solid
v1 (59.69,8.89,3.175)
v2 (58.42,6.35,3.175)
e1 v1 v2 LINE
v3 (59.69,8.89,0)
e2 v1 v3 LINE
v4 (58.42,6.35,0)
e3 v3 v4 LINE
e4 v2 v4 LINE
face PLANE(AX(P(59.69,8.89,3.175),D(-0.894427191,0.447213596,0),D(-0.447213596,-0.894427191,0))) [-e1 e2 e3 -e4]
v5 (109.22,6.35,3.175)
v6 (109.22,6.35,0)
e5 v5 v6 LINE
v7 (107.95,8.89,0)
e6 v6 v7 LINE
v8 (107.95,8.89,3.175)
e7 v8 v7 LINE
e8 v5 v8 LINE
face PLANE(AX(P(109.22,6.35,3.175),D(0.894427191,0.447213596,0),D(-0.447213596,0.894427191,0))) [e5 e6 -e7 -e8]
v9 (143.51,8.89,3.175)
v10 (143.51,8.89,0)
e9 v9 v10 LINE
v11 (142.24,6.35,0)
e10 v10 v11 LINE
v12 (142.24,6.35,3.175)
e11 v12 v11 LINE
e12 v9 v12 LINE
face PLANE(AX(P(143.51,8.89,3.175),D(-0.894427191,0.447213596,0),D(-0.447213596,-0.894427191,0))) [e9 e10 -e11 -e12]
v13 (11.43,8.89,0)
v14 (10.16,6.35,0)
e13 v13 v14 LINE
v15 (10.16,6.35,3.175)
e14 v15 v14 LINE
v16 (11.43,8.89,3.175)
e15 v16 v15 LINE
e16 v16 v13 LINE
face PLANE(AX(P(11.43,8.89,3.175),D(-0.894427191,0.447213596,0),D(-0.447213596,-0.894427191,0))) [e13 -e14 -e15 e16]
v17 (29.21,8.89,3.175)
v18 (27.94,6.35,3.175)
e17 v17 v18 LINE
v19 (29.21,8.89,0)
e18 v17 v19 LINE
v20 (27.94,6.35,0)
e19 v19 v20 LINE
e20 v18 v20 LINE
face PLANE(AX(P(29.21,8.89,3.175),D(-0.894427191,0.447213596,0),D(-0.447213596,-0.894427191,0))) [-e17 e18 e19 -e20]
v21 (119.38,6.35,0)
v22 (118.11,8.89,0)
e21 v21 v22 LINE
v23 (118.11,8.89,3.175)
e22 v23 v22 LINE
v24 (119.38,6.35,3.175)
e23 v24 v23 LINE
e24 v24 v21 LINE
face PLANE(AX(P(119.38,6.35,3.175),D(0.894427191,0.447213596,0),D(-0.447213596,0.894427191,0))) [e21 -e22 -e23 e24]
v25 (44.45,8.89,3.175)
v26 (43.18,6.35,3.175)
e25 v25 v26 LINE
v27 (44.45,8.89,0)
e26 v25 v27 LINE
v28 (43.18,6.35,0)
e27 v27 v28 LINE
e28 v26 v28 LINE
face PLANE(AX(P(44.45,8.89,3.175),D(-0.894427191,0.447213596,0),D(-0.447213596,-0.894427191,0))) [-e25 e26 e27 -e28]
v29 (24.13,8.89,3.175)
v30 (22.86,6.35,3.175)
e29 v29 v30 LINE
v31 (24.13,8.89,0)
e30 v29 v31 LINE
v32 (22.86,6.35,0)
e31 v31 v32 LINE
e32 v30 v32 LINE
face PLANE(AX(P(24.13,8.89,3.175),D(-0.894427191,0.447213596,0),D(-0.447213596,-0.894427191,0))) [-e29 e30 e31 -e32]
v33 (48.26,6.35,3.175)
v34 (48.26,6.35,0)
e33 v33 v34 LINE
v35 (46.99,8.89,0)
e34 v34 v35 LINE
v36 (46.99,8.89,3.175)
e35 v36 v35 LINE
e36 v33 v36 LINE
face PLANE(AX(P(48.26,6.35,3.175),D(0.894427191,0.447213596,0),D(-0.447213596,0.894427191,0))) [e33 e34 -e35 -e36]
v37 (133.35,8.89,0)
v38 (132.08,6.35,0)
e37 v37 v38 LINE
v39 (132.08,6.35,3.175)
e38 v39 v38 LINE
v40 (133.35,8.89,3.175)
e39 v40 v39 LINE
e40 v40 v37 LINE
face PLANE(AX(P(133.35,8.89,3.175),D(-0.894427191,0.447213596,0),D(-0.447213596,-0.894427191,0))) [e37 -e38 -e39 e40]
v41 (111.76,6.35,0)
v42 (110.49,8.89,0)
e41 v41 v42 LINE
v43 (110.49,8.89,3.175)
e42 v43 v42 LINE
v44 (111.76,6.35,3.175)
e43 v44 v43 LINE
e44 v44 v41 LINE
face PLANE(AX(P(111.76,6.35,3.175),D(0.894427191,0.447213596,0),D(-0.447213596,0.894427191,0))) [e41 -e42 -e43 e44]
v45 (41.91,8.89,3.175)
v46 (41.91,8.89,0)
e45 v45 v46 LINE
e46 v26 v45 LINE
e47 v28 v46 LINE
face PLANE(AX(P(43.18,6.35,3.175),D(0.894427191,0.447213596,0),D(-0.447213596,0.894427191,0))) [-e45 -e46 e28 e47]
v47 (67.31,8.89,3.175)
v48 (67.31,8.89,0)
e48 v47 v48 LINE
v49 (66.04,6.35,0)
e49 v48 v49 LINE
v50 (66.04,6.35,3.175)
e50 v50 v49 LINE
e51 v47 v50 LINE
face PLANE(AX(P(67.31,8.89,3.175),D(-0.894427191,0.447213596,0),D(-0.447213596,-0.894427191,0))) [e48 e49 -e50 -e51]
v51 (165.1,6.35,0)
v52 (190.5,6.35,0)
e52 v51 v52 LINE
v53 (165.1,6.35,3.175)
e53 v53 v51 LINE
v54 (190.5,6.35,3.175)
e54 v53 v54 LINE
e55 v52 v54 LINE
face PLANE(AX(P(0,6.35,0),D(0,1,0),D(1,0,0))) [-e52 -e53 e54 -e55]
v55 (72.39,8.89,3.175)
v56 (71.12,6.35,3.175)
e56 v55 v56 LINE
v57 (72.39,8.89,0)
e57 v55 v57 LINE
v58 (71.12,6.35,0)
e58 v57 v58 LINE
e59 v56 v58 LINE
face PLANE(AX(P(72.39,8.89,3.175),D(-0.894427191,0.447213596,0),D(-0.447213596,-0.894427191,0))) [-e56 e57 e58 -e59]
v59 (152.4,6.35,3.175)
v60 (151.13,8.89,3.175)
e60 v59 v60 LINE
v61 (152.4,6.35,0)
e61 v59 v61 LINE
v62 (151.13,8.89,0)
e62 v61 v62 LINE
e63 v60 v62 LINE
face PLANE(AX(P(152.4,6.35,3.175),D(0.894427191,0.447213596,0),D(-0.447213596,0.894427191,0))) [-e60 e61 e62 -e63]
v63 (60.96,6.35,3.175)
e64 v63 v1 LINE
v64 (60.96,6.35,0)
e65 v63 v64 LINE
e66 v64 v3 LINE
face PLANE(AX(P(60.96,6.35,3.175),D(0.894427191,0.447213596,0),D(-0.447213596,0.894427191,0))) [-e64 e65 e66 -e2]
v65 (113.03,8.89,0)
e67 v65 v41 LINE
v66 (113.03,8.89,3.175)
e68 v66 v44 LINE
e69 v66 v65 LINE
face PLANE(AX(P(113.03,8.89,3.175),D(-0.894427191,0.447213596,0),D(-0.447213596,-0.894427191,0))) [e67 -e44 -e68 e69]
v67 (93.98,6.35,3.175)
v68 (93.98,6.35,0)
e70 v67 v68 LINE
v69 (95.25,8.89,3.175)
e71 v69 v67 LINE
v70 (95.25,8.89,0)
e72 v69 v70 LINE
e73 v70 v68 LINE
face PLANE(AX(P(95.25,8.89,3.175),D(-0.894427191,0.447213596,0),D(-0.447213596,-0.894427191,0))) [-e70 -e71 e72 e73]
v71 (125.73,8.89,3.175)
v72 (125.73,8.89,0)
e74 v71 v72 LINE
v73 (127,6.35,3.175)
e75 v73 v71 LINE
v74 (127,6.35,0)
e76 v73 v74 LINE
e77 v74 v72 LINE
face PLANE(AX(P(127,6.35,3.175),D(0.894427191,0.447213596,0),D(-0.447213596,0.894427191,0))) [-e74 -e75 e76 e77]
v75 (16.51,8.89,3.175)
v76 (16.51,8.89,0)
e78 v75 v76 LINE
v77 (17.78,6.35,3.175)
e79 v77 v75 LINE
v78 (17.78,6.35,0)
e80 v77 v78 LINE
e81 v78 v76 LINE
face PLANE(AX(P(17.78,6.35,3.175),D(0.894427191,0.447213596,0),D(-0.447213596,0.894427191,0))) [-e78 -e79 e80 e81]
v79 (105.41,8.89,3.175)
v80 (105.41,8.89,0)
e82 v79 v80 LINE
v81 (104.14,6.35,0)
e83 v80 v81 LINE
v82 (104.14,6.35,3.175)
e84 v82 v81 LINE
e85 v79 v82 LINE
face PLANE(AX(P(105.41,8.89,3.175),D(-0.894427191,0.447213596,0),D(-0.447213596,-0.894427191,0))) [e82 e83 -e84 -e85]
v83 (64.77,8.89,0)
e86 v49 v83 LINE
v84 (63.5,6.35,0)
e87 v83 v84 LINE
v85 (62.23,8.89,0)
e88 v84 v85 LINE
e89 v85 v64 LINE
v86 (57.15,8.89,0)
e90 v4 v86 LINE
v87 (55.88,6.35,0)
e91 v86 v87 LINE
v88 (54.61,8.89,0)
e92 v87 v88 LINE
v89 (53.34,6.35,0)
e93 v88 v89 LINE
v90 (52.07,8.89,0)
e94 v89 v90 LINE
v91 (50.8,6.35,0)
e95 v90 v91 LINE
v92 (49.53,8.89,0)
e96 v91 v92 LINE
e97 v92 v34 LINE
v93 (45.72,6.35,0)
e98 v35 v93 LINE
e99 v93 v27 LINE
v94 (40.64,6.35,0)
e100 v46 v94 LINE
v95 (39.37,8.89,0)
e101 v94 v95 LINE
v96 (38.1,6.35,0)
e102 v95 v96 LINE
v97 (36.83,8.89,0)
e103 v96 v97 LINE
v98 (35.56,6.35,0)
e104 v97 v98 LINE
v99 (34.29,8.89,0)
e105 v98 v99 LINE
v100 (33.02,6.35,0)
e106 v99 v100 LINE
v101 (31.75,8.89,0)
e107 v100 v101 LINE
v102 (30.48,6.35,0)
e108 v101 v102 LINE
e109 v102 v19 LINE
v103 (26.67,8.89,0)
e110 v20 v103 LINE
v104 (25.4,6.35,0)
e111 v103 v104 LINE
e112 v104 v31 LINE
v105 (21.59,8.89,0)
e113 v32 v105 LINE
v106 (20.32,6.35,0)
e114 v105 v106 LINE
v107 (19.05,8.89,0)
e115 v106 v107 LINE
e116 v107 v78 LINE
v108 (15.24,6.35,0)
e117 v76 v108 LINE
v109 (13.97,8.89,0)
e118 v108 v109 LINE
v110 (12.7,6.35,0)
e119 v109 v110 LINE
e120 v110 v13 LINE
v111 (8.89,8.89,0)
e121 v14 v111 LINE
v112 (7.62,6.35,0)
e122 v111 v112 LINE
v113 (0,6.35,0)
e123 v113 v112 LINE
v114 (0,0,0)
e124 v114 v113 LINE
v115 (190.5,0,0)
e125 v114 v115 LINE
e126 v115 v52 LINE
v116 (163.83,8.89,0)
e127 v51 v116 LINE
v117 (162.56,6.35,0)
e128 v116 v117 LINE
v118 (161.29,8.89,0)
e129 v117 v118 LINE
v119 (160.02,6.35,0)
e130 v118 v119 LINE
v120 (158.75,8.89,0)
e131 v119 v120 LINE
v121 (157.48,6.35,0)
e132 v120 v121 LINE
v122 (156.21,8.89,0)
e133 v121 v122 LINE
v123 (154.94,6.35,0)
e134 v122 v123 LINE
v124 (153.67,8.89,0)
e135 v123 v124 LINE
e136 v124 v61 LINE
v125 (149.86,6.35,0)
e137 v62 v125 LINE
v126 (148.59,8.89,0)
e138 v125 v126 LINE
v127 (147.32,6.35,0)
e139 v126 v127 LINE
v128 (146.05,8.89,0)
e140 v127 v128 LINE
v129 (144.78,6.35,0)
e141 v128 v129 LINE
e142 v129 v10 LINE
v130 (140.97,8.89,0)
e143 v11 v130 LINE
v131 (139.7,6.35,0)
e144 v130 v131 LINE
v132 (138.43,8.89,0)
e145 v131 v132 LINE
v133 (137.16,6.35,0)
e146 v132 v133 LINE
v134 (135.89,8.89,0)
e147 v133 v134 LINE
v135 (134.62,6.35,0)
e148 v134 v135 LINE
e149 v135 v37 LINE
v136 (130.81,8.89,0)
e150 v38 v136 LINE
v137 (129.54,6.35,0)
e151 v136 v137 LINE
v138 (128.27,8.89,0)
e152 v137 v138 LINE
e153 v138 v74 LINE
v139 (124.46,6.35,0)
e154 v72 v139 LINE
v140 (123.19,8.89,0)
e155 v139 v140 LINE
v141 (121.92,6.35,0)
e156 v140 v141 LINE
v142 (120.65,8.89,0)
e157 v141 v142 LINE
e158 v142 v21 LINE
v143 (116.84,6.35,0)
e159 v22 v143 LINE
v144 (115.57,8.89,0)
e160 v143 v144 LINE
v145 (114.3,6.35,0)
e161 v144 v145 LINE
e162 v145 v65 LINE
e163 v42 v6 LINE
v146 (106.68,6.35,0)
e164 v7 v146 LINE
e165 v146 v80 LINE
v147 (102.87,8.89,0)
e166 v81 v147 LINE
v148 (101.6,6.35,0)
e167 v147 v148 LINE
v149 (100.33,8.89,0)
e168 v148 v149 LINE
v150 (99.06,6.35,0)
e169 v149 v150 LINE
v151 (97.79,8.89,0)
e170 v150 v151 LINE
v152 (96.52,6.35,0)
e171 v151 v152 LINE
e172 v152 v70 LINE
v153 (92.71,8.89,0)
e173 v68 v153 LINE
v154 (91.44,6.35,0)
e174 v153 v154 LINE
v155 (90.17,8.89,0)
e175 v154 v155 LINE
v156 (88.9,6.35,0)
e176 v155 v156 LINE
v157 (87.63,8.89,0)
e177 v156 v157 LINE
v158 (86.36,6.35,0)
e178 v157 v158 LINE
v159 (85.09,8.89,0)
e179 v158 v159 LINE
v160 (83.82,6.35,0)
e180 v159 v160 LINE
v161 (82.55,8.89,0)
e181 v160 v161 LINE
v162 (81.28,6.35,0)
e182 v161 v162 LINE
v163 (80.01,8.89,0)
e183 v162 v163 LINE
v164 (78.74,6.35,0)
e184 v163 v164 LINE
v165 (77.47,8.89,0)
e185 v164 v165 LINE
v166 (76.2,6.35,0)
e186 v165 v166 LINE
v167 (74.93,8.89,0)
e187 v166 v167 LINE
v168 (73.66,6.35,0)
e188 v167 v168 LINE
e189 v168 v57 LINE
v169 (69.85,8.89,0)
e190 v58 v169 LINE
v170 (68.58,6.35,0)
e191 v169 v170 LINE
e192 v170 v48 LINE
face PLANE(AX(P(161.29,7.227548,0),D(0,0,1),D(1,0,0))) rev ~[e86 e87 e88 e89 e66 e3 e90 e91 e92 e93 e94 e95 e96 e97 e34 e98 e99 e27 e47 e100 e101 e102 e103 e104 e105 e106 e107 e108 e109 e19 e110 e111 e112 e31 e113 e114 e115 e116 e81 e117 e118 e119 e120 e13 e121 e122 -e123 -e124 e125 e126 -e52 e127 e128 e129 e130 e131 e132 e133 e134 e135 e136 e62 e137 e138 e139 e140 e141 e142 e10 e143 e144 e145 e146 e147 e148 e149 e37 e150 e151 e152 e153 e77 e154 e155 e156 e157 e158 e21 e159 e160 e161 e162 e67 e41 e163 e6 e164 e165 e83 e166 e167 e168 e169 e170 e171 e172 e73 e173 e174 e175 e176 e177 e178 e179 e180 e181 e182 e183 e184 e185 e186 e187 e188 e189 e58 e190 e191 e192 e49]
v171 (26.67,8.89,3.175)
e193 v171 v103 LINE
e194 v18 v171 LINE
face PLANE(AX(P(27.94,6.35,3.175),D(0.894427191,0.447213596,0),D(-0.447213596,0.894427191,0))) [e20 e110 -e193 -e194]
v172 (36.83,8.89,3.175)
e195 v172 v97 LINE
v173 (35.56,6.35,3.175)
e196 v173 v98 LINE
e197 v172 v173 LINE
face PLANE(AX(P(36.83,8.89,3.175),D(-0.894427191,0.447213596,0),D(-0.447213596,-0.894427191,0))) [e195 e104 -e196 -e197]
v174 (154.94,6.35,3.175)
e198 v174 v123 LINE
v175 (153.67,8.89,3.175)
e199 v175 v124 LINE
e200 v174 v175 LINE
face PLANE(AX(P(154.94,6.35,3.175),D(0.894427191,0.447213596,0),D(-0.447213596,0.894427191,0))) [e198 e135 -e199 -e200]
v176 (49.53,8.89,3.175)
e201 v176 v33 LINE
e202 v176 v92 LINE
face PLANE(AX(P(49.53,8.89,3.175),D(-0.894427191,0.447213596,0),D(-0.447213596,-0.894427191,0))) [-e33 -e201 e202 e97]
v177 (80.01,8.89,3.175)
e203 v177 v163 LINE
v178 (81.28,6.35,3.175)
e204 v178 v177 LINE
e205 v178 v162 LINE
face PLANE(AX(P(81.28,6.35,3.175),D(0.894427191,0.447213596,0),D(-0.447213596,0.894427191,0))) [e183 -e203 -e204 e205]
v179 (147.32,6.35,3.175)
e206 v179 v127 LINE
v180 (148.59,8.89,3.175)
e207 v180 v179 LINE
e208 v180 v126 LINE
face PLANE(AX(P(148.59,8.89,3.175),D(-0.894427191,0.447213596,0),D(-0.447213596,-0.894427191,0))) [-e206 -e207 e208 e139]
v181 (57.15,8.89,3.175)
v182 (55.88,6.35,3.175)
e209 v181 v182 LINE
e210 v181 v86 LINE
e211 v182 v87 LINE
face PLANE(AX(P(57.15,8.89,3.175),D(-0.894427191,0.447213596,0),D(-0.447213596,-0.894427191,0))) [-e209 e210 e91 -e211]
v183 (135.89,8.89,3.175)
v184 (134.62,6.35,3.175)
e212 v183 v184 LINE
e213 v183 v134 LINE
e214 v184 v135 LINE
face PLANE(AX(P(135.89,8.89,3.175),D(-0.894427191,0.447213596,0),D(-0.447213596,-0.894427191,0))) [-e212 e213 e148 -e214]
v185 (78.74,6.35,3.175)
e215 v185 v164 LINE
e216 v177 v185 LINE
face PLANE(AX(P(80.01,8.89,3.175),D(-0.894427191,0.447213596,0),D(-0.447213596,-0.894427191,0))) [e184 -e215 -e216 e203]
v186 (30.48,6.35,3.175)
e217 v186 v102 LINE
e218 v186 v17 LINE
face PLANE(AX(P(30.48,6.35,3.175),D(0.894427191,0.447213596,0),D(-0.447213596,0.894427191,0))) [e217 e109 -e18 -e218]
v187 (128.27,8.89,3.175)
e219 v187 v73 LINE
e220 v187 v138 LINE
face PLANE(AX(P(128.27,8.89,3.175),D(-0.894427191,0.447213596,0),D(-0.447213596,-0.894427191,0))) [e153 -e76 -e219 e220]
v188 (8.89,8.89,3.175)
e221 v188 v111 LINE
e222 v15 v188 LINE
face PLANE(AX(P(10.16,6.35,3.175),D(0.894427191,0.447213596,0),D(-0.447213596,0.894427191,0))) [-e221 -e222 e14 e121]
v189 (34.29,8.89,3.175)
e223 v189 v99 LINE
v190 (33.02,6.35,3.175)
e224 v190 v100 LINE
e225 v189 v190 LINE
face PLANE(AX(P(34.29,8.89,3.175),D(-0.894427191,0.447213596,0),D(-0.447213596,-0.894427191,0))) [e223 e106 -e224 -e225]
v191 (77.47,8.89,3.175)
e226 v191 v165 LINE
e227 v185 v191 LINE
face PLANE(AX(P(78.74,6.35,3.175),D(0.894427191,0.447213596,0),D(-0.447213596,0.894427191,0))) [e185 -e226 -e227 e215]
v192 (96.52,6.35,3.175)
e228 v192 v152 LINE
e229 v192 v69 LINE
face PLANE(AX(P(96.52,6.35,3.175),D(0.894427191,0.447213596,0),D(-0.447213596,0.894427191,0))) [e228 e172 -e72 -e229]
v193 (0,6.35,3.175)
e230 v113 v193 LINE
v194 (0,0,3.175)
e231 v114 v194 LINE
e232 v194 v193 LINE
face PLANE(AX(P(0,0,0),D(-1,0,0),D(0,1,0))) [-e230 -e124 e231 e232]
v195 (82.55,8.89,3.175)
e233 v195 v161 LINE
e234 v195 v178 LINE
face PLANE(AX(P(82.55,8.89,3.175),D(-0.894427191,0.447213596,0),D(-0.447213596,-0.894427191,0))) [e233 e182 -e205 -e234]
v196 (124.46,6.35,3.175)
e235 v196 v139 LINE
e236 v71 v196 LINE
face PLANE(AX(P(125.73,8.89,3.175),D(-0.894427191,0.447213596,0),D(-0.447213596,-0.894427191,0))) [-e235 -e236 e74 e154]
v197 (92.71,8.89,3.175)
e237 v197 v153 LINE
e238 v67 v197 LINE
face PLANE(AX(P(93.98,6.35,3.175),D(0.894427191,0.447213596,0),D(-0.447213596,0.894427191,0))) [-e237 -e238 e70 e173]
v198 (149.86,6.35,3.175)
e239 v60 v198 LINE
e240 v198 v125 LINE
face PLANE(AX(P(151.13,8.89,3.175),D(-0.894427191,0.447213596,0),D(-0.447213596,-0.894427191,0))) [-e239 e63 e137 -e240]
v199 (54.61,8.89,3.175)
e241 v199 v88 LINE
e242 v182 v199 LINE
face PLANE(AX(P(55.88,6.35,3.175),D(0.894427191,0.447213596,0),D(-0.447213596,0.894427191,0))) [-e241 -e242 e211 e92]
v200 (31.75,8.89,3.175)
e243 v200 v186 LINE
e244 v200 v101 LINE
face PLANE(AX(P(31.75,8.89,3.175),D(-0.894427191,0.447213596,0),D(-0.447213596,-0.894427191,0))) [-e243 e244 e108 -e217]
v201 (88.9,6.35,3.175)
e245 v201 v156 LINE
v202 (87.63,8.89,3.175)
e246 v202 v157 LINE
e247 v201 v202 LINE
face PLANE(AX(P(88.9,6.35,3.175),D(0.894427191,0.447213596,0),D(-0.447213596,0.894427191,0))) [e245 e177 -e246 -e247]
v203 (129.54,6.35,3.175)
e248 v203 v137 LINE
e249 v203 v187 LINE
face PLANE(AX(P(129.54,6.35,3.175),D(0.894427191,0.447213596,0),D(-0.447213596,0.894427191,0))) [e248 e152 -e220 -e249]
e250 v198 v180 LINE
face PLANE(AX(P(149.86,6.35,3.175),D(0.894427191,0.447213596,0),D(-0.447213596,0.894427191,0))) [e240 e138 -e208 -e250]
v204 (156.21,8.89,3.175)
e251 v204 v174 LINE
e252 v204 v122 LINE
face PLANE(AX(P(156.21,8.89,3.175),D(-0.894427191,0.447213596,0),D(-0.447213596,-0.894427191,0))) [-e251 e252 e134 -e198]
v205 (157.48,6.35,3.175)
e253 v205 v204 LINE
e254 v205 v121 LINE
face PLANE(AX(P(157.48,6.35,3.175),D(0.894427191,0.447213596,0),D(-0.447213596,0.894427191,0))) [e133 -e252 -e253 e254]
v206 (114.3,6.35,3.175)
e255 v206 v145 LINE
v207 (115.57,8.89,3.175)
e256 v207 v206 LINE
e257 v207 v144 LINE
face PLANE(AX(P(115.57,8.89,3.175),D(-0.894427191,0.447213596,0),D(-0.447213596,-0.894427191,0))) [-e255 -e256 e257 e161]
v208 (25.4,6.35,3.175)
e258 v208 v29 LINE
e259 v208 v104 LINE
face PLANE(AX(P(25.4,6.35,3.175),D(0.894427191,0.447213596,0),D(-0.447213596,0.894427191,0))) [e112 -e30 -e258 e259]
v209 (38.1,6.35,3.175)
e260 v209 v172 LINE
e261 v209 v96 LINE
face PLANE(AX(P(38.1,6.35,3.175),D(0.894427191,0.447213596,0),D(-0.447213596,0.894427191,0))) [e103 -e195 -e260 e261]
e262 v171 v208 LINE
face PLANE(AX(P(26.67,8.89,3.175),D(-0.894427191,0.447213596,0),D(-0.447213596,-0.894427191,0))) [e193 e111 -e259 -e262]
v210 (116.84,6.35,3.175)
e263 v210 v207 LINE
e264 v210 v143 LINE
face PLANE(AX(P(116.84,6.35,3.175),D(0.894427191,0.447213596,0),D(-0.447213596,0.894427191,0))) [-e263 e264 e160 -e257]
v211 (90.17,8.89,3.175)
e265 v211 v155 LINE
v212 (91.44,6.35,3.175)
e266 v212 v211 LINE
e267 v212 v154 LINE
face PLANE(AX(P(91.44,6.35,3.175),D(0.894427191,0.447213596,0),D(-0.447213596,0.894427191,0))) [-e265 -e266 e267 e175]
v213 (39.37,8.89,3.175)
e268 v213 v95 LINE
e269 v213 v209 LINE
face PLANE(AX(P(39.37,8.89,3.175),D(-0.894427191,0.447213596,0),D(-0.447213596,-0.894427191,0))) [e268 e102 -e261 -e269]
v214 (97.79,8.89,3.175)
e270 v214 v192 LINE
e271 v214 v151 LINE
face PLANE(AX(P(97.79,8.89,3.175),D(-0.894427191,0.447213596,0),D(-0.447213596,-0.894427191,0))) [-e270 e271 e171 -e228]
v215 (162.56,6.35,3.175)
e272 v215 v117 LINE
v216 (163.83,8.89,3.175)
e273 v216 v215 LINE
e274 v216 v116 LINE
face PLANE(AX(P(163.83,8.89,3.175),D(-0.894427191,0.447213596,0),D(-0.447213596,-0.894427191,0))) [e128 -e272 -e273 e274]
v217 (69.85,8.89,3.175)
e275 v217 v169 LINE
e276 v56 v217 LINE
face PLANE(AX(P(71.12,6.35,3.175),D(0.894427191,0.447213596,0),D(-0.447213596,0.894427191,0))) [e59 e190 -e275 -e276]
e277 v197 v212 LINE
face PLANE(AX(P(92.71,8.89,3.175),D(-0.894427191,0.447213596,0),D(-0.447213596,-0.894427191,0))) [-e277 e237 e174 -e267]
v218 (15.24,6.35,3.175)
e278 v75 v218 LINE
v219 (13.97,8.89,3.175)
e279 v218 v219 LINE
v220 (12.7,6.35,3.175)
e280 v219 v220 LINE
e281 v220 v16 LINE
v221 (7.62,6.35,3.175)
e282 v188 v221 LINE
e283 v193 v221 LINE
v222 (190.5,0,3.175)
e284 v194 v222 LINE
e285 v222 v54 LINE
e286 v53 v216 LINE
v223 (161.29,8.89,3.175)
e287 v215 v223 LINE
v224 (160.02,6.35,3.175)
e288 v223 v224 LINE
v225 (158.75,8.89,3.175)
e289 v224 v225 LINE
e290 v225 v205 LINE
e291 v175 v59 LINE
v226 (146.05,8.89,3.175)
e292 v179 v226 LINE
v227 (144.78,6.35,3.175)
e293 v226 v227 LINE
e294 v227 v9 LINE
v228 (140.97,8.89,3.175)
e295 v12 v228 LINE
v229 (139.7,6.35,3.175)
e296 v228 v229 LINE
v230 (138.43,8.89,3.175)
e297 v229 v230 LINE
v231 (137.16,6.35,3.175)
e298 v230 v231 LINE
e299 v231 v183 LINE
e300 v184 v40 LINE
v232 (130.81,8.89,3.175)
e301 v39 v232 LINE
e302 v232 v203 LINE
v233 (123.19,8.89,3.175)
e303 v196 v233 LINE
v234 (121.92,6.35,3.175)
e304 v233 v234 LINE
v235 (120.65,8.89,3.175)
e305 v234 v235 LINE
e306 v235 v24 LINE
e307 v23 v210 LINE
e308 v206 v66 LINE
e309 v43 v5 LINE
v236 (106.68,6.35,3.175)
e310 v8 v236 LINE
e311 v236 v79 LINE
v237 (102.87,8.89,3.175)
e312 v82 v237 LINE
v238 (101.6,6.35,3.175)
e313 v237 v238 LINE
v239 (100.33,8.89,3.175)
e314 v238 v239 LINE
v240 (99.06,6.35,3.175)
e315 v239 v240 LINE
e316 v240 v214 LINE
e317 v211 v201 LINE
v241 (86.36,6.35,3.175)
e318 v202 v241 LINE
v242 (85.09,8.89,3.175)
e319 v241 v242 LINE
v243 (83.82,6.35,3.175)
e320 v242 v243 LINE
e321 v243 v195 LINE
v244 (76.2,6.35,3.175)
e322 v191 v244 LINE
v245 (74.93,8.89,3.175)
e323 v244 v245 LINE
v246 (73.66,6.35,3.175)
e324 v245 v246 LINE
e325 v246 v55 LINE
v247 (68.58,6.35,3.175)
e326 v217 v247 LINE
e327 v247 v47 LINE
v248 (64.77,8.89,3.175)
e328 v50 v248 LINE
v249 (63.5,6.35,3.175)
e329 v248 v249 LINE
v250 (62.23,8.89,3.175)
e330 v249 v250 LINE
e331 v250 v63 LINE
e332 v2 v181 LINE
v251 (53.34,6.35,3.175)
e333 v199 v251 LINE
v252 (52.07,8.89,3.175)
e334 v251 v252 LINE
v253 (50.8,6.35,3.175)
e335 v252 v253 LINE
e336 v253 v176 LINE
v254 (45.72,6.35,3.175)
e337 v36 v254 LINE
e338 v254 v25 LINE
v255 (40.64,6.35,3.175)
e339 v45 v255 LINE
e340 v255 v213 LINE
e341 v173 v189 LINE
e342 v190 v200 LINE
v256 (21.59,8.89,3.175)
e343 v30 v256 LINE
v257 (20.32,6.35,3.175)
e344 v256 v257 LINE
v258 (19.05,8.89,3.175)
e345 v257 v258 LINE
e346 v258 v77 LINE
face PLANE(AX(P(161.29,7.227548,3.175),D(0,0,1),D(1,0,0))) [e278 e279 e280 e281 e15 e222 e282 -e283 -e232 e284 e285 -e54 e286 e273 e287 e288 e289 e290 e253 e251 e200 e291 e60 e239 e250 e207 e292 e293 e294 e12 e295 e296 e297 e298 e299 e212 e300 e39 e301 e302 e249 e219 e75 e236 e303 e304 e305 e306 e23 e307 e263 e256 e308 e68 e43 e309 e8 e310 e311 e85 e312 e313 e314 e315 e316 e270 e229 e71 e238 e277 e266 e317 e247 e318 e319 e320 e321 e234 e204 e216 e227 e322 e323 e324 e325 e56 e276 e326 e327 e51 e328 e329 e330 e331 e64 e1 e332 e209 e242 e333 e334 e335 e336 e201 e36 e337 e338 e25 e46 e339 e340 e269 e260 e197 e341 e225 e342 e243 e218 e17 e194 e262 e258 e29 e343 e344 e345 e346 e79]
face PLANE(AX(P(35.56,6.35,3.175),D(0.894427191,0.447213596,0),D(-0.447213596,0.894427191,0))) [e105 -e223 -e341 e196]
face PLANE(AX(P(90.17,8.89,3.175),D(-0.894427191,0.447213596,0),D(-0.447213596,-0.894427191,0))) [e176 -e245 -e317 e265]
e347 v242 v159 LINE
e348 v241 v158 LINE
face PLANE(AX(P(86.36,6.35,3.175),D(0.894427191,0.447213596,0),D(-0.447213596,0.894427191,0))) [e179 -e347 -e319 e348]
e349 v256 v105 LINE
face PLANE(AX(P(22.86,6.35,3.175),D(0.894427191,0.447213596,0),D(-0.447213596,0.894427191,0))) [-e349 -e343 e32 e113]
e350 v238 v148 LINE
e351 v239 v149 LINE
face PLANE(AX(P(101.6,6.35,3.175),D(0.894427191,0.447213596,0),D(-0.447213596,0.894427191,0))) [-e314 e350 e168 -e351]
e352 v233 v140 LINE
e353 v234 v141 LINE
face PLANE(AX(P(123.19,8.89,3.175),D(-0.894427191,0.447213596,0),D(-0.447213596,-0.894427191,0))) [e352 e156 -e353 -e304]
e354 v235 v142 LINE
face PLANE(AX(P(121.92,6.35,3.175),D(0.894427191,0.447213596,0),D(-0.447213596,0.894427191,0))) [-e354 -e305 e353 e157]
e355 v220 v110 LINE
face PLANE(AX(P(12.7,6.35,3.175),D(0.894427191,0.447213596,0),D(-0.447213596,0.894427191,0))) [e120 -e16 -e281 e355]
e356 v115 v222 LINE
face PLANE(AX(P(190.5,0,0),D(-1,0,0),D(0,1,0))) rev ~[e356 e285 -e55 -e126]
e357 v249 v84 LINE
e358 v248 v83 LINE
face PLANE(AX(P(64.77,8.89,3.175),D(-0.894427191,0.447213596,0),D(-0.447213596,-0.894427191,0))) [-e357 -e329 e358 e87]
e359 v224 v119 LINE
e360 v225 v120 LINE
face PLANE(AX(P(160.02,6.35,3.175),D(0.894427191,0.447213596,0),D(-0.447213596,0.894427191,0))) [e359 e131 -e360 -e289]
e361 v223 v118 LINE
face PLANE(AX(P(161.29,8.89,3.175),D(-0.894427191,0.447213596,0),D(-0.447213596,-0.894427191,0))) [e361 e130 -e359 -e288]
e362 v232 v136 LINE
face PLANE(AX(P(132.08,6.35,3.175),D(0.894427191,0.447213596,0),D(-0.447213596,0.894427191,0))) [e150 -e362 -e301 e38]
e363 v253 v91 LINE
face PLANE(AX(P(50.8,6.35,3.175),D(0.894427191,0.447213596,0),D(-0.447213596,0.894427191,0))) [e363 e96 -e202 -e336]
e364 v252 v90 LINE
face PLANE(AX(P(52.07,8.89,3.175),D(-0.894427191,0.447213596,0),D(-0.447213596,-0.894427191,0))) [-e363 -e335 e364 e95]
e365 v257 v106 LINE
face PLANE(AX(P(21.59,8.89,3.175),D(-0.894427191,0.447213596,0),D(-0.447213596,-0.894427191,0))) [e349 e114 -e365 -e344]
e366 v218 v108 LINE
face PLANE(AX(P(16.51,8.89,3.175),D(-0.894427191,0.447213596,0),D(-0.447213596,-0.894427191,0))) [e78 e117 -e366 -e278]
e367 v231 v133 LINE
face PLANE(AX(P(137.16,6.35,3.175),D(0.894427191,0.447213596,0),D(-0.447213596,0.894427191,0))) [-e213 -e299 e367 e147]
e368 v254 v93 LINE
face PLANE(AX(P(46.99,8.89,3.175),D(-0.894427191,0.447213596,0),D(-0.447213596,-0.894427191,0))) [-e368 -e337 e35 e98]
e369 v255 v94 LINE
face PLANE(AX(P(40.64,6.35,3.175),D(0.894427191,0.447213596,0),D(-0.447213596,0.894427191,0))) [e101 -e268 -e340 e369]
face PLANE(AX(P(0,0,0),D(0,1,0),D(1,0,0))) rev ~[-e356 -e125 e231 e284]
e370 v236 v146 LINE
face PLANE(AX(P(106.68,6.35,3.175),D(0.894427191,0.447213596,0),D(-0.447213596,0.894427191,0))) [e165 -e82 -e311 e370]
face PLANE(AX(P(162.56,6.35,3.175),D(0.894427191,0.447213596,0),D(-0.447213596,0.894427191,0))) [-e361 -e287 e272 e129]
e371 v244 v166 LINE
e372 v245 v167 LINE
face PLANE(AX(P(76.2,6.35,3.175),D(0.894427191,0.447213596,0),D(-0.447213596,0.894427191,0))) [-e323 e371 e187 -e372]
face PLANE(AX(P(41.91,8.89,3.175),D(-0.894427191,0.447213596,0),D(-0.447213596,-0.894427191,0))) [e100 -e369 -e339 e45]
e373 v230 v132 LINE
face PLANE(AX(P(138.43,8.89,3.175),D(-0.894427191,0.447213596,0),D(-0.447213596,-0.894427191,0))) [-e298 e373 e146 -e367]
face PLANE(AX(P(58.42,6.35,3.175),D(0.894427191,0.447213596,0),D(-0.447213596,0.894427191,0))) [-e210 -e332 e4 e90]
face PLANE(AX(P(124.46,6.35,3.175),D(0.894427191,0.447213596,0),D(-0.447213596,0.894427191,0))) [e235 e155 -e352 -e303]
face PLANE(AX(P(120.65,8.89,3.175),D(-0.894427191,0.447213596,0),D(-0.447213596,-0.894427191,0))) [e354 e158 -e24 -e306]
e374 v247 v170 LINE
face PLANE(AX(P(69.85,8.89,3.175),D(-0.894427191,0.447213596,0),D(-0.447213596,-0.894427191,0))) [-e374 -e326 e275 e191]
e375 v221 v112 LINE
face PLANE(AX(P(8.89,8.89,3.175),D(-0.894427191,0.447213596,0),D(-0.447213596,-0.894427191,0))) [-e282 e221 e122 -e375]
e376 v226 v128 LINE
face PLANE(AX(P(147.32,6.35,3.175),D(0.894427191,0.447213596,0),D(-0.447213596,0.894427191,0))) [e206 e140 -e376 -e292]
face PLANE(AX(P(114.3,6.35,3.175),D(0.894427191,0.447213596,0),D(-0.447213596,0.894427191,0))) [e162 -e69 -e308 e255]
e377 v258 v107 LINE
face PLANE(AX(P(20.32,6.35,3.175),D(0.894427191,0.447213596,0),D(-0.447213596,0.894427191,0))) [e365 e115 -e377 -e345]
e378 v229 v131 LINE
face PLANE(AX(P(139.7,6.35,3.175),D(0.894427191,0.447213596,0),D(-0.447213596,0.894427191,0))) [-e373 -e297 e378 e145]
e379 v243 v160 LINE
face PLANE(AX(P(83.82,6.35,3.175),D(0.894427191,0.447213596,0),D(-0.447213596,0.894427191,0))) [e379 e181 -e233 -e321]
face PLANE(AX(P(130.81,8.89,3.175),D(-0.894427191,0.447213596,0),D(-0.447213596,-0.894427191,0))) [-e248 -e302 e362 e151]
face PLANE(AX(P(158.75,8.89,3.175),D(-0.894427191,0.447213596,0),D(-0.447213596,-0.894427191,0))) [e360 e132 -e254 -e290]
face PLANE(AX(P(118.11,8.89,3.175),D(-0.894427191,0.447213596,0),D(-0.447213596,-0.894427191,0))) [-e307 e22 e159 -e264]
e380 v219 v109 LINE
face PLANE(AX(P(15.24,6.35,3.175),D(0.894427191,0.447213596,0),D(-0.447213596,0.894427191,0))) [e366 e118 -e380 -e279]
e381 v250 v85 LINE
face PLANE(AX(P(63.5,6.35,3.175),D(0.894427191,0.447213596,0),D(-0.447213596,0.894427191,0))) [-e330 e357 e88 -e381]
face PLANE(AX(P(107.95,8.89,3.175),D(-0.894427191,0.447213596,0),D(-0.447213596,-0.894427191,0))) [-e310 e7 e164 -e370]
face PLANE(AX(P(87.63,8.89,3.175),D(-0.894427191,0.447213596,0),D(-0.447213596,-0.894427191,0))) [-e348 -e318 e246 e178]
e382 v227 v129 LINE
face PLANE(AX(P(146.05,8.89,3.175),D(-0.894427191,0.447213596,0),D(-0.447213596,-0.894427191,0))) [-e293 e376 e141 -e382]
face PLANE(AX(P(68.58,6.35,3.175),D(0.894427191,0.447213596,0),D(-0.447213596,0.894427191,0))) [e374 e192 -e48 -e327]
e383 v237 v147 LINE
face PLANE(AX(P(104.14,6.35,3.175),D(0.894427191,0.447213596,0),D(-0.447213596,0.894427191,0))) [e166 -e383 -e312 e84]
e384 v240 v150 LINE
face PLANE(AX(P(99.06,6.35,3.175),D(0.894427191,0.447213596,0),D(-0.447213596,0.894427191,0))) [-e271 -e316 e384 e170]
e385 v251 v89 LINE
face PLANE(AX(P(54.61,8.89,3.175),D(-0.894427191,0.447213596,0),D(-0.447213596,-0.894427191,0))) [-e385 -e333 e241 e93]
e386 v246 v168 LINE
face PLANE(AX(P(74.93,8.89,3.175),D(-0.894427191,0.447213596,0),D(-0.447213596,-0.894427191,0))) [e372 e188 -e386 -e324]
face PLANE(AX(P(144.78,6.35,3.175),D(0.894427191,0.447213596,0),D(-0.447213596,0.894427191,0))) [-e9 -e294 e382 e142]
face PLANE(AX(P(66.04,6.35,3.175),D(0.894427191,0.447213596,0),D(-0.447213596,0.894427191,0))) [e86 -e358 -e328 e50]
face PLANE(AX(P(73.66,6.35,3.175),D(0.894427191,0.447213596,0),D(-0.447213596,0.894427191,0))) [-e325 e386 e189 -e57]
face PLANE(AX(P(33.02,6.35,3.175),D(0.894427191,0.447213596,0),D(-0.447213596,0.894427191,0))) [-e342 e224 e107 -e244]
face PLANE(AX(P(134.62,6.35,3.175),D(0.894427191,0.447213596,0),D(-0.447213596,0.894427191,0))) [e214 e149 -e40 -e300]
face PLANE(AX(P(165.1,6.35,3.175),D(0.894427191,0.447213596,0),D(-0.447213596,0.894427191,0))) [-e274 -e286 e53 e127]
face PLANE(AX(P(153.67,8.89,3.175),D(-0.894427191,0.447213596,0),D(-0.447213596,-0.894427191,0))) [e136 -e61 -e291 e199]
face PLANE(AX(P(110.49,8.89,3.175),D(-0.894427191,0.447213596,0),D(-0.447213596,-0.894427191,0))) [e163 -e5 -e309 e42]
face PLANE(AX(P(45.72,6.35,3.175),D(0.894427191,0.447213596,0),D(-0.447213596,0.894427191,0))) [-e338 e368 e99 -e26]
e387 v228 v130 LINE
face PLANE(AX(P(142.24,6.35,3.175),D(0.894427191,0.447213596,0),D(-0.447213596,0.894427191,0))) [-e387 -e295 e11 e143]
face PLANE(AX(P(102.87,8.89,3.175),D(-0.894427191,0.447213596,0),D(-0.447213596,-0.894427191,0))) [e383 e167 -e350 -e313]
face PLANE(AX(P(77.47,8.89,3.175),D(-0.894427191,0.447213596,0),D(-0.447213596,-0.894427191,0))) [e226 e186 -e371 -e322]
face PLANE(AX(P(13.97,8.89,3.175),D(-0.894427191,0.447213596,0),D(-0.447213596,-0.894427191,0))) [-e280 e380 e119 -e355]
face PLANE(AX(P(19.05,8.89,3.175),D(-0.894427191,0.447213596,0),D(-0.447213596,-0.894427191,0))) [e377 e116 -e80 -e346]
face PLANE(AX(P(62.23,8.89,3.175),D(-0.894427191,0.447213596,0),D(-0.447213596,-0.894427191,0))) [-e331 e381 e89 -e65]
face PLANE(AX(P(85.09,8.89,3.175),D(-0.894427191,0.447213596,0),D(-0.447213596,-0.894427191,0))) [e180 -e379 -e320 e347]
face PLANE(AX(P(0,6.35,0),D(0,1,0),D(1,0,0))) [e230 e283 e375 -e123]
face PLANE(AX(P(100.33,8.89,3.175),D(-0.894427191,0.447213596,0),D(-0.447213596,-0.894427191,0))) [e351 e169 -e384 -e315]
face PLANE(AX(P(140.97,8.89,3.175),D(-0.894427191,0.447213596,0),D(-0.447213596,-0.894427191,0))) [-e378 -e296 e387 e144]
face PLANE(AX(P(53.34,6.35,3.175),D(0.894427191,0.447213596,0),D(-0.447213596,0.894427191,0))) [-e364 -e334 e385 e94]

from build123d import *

# Parameters (mm, degrees)
SKETCH1_W           = 190.5
SKETCH1_H           = 6.35
BOSS_EXTRUDE1_DEPTH = 3.175
BOSS_EXTRUDE2_DEPTH = 3.175
LPATTERN1_COUNT     = 62
LPATTERN1_PITCH     = 2.54


with BuildPart() as part:
    # Sketch1 → Boss-Extrude1 (new body)
    with BuildSketch(Plane.XY):
        with Locations((95.25, 3.175)):
            Rectangle(SKETCH1_W, SKETCH1_H)
    extrude(amount=BOSS_EXTRUDE1_DEPTH)

    # Sketch2 → Boss-Extrude2 (add)
    with BuildSketch(Plane.XY.offset(3.175)):
        Polygon((165.1, 6.35), (163.83, 8.89), (162.56, 6.35), align=None)
    boss_extrude2 = extrude(amount=-BOSS_EXTRUDE2_DEPTH)

    # LPattern1: Boss-Extrude2 ×62
    with Locations(*[(-i * LPATTERN1_PITCH, 0, 0) for i in range(1, LPATTERN1_COUNT)]):
        add(boss_extrude2)


solid = part.part
